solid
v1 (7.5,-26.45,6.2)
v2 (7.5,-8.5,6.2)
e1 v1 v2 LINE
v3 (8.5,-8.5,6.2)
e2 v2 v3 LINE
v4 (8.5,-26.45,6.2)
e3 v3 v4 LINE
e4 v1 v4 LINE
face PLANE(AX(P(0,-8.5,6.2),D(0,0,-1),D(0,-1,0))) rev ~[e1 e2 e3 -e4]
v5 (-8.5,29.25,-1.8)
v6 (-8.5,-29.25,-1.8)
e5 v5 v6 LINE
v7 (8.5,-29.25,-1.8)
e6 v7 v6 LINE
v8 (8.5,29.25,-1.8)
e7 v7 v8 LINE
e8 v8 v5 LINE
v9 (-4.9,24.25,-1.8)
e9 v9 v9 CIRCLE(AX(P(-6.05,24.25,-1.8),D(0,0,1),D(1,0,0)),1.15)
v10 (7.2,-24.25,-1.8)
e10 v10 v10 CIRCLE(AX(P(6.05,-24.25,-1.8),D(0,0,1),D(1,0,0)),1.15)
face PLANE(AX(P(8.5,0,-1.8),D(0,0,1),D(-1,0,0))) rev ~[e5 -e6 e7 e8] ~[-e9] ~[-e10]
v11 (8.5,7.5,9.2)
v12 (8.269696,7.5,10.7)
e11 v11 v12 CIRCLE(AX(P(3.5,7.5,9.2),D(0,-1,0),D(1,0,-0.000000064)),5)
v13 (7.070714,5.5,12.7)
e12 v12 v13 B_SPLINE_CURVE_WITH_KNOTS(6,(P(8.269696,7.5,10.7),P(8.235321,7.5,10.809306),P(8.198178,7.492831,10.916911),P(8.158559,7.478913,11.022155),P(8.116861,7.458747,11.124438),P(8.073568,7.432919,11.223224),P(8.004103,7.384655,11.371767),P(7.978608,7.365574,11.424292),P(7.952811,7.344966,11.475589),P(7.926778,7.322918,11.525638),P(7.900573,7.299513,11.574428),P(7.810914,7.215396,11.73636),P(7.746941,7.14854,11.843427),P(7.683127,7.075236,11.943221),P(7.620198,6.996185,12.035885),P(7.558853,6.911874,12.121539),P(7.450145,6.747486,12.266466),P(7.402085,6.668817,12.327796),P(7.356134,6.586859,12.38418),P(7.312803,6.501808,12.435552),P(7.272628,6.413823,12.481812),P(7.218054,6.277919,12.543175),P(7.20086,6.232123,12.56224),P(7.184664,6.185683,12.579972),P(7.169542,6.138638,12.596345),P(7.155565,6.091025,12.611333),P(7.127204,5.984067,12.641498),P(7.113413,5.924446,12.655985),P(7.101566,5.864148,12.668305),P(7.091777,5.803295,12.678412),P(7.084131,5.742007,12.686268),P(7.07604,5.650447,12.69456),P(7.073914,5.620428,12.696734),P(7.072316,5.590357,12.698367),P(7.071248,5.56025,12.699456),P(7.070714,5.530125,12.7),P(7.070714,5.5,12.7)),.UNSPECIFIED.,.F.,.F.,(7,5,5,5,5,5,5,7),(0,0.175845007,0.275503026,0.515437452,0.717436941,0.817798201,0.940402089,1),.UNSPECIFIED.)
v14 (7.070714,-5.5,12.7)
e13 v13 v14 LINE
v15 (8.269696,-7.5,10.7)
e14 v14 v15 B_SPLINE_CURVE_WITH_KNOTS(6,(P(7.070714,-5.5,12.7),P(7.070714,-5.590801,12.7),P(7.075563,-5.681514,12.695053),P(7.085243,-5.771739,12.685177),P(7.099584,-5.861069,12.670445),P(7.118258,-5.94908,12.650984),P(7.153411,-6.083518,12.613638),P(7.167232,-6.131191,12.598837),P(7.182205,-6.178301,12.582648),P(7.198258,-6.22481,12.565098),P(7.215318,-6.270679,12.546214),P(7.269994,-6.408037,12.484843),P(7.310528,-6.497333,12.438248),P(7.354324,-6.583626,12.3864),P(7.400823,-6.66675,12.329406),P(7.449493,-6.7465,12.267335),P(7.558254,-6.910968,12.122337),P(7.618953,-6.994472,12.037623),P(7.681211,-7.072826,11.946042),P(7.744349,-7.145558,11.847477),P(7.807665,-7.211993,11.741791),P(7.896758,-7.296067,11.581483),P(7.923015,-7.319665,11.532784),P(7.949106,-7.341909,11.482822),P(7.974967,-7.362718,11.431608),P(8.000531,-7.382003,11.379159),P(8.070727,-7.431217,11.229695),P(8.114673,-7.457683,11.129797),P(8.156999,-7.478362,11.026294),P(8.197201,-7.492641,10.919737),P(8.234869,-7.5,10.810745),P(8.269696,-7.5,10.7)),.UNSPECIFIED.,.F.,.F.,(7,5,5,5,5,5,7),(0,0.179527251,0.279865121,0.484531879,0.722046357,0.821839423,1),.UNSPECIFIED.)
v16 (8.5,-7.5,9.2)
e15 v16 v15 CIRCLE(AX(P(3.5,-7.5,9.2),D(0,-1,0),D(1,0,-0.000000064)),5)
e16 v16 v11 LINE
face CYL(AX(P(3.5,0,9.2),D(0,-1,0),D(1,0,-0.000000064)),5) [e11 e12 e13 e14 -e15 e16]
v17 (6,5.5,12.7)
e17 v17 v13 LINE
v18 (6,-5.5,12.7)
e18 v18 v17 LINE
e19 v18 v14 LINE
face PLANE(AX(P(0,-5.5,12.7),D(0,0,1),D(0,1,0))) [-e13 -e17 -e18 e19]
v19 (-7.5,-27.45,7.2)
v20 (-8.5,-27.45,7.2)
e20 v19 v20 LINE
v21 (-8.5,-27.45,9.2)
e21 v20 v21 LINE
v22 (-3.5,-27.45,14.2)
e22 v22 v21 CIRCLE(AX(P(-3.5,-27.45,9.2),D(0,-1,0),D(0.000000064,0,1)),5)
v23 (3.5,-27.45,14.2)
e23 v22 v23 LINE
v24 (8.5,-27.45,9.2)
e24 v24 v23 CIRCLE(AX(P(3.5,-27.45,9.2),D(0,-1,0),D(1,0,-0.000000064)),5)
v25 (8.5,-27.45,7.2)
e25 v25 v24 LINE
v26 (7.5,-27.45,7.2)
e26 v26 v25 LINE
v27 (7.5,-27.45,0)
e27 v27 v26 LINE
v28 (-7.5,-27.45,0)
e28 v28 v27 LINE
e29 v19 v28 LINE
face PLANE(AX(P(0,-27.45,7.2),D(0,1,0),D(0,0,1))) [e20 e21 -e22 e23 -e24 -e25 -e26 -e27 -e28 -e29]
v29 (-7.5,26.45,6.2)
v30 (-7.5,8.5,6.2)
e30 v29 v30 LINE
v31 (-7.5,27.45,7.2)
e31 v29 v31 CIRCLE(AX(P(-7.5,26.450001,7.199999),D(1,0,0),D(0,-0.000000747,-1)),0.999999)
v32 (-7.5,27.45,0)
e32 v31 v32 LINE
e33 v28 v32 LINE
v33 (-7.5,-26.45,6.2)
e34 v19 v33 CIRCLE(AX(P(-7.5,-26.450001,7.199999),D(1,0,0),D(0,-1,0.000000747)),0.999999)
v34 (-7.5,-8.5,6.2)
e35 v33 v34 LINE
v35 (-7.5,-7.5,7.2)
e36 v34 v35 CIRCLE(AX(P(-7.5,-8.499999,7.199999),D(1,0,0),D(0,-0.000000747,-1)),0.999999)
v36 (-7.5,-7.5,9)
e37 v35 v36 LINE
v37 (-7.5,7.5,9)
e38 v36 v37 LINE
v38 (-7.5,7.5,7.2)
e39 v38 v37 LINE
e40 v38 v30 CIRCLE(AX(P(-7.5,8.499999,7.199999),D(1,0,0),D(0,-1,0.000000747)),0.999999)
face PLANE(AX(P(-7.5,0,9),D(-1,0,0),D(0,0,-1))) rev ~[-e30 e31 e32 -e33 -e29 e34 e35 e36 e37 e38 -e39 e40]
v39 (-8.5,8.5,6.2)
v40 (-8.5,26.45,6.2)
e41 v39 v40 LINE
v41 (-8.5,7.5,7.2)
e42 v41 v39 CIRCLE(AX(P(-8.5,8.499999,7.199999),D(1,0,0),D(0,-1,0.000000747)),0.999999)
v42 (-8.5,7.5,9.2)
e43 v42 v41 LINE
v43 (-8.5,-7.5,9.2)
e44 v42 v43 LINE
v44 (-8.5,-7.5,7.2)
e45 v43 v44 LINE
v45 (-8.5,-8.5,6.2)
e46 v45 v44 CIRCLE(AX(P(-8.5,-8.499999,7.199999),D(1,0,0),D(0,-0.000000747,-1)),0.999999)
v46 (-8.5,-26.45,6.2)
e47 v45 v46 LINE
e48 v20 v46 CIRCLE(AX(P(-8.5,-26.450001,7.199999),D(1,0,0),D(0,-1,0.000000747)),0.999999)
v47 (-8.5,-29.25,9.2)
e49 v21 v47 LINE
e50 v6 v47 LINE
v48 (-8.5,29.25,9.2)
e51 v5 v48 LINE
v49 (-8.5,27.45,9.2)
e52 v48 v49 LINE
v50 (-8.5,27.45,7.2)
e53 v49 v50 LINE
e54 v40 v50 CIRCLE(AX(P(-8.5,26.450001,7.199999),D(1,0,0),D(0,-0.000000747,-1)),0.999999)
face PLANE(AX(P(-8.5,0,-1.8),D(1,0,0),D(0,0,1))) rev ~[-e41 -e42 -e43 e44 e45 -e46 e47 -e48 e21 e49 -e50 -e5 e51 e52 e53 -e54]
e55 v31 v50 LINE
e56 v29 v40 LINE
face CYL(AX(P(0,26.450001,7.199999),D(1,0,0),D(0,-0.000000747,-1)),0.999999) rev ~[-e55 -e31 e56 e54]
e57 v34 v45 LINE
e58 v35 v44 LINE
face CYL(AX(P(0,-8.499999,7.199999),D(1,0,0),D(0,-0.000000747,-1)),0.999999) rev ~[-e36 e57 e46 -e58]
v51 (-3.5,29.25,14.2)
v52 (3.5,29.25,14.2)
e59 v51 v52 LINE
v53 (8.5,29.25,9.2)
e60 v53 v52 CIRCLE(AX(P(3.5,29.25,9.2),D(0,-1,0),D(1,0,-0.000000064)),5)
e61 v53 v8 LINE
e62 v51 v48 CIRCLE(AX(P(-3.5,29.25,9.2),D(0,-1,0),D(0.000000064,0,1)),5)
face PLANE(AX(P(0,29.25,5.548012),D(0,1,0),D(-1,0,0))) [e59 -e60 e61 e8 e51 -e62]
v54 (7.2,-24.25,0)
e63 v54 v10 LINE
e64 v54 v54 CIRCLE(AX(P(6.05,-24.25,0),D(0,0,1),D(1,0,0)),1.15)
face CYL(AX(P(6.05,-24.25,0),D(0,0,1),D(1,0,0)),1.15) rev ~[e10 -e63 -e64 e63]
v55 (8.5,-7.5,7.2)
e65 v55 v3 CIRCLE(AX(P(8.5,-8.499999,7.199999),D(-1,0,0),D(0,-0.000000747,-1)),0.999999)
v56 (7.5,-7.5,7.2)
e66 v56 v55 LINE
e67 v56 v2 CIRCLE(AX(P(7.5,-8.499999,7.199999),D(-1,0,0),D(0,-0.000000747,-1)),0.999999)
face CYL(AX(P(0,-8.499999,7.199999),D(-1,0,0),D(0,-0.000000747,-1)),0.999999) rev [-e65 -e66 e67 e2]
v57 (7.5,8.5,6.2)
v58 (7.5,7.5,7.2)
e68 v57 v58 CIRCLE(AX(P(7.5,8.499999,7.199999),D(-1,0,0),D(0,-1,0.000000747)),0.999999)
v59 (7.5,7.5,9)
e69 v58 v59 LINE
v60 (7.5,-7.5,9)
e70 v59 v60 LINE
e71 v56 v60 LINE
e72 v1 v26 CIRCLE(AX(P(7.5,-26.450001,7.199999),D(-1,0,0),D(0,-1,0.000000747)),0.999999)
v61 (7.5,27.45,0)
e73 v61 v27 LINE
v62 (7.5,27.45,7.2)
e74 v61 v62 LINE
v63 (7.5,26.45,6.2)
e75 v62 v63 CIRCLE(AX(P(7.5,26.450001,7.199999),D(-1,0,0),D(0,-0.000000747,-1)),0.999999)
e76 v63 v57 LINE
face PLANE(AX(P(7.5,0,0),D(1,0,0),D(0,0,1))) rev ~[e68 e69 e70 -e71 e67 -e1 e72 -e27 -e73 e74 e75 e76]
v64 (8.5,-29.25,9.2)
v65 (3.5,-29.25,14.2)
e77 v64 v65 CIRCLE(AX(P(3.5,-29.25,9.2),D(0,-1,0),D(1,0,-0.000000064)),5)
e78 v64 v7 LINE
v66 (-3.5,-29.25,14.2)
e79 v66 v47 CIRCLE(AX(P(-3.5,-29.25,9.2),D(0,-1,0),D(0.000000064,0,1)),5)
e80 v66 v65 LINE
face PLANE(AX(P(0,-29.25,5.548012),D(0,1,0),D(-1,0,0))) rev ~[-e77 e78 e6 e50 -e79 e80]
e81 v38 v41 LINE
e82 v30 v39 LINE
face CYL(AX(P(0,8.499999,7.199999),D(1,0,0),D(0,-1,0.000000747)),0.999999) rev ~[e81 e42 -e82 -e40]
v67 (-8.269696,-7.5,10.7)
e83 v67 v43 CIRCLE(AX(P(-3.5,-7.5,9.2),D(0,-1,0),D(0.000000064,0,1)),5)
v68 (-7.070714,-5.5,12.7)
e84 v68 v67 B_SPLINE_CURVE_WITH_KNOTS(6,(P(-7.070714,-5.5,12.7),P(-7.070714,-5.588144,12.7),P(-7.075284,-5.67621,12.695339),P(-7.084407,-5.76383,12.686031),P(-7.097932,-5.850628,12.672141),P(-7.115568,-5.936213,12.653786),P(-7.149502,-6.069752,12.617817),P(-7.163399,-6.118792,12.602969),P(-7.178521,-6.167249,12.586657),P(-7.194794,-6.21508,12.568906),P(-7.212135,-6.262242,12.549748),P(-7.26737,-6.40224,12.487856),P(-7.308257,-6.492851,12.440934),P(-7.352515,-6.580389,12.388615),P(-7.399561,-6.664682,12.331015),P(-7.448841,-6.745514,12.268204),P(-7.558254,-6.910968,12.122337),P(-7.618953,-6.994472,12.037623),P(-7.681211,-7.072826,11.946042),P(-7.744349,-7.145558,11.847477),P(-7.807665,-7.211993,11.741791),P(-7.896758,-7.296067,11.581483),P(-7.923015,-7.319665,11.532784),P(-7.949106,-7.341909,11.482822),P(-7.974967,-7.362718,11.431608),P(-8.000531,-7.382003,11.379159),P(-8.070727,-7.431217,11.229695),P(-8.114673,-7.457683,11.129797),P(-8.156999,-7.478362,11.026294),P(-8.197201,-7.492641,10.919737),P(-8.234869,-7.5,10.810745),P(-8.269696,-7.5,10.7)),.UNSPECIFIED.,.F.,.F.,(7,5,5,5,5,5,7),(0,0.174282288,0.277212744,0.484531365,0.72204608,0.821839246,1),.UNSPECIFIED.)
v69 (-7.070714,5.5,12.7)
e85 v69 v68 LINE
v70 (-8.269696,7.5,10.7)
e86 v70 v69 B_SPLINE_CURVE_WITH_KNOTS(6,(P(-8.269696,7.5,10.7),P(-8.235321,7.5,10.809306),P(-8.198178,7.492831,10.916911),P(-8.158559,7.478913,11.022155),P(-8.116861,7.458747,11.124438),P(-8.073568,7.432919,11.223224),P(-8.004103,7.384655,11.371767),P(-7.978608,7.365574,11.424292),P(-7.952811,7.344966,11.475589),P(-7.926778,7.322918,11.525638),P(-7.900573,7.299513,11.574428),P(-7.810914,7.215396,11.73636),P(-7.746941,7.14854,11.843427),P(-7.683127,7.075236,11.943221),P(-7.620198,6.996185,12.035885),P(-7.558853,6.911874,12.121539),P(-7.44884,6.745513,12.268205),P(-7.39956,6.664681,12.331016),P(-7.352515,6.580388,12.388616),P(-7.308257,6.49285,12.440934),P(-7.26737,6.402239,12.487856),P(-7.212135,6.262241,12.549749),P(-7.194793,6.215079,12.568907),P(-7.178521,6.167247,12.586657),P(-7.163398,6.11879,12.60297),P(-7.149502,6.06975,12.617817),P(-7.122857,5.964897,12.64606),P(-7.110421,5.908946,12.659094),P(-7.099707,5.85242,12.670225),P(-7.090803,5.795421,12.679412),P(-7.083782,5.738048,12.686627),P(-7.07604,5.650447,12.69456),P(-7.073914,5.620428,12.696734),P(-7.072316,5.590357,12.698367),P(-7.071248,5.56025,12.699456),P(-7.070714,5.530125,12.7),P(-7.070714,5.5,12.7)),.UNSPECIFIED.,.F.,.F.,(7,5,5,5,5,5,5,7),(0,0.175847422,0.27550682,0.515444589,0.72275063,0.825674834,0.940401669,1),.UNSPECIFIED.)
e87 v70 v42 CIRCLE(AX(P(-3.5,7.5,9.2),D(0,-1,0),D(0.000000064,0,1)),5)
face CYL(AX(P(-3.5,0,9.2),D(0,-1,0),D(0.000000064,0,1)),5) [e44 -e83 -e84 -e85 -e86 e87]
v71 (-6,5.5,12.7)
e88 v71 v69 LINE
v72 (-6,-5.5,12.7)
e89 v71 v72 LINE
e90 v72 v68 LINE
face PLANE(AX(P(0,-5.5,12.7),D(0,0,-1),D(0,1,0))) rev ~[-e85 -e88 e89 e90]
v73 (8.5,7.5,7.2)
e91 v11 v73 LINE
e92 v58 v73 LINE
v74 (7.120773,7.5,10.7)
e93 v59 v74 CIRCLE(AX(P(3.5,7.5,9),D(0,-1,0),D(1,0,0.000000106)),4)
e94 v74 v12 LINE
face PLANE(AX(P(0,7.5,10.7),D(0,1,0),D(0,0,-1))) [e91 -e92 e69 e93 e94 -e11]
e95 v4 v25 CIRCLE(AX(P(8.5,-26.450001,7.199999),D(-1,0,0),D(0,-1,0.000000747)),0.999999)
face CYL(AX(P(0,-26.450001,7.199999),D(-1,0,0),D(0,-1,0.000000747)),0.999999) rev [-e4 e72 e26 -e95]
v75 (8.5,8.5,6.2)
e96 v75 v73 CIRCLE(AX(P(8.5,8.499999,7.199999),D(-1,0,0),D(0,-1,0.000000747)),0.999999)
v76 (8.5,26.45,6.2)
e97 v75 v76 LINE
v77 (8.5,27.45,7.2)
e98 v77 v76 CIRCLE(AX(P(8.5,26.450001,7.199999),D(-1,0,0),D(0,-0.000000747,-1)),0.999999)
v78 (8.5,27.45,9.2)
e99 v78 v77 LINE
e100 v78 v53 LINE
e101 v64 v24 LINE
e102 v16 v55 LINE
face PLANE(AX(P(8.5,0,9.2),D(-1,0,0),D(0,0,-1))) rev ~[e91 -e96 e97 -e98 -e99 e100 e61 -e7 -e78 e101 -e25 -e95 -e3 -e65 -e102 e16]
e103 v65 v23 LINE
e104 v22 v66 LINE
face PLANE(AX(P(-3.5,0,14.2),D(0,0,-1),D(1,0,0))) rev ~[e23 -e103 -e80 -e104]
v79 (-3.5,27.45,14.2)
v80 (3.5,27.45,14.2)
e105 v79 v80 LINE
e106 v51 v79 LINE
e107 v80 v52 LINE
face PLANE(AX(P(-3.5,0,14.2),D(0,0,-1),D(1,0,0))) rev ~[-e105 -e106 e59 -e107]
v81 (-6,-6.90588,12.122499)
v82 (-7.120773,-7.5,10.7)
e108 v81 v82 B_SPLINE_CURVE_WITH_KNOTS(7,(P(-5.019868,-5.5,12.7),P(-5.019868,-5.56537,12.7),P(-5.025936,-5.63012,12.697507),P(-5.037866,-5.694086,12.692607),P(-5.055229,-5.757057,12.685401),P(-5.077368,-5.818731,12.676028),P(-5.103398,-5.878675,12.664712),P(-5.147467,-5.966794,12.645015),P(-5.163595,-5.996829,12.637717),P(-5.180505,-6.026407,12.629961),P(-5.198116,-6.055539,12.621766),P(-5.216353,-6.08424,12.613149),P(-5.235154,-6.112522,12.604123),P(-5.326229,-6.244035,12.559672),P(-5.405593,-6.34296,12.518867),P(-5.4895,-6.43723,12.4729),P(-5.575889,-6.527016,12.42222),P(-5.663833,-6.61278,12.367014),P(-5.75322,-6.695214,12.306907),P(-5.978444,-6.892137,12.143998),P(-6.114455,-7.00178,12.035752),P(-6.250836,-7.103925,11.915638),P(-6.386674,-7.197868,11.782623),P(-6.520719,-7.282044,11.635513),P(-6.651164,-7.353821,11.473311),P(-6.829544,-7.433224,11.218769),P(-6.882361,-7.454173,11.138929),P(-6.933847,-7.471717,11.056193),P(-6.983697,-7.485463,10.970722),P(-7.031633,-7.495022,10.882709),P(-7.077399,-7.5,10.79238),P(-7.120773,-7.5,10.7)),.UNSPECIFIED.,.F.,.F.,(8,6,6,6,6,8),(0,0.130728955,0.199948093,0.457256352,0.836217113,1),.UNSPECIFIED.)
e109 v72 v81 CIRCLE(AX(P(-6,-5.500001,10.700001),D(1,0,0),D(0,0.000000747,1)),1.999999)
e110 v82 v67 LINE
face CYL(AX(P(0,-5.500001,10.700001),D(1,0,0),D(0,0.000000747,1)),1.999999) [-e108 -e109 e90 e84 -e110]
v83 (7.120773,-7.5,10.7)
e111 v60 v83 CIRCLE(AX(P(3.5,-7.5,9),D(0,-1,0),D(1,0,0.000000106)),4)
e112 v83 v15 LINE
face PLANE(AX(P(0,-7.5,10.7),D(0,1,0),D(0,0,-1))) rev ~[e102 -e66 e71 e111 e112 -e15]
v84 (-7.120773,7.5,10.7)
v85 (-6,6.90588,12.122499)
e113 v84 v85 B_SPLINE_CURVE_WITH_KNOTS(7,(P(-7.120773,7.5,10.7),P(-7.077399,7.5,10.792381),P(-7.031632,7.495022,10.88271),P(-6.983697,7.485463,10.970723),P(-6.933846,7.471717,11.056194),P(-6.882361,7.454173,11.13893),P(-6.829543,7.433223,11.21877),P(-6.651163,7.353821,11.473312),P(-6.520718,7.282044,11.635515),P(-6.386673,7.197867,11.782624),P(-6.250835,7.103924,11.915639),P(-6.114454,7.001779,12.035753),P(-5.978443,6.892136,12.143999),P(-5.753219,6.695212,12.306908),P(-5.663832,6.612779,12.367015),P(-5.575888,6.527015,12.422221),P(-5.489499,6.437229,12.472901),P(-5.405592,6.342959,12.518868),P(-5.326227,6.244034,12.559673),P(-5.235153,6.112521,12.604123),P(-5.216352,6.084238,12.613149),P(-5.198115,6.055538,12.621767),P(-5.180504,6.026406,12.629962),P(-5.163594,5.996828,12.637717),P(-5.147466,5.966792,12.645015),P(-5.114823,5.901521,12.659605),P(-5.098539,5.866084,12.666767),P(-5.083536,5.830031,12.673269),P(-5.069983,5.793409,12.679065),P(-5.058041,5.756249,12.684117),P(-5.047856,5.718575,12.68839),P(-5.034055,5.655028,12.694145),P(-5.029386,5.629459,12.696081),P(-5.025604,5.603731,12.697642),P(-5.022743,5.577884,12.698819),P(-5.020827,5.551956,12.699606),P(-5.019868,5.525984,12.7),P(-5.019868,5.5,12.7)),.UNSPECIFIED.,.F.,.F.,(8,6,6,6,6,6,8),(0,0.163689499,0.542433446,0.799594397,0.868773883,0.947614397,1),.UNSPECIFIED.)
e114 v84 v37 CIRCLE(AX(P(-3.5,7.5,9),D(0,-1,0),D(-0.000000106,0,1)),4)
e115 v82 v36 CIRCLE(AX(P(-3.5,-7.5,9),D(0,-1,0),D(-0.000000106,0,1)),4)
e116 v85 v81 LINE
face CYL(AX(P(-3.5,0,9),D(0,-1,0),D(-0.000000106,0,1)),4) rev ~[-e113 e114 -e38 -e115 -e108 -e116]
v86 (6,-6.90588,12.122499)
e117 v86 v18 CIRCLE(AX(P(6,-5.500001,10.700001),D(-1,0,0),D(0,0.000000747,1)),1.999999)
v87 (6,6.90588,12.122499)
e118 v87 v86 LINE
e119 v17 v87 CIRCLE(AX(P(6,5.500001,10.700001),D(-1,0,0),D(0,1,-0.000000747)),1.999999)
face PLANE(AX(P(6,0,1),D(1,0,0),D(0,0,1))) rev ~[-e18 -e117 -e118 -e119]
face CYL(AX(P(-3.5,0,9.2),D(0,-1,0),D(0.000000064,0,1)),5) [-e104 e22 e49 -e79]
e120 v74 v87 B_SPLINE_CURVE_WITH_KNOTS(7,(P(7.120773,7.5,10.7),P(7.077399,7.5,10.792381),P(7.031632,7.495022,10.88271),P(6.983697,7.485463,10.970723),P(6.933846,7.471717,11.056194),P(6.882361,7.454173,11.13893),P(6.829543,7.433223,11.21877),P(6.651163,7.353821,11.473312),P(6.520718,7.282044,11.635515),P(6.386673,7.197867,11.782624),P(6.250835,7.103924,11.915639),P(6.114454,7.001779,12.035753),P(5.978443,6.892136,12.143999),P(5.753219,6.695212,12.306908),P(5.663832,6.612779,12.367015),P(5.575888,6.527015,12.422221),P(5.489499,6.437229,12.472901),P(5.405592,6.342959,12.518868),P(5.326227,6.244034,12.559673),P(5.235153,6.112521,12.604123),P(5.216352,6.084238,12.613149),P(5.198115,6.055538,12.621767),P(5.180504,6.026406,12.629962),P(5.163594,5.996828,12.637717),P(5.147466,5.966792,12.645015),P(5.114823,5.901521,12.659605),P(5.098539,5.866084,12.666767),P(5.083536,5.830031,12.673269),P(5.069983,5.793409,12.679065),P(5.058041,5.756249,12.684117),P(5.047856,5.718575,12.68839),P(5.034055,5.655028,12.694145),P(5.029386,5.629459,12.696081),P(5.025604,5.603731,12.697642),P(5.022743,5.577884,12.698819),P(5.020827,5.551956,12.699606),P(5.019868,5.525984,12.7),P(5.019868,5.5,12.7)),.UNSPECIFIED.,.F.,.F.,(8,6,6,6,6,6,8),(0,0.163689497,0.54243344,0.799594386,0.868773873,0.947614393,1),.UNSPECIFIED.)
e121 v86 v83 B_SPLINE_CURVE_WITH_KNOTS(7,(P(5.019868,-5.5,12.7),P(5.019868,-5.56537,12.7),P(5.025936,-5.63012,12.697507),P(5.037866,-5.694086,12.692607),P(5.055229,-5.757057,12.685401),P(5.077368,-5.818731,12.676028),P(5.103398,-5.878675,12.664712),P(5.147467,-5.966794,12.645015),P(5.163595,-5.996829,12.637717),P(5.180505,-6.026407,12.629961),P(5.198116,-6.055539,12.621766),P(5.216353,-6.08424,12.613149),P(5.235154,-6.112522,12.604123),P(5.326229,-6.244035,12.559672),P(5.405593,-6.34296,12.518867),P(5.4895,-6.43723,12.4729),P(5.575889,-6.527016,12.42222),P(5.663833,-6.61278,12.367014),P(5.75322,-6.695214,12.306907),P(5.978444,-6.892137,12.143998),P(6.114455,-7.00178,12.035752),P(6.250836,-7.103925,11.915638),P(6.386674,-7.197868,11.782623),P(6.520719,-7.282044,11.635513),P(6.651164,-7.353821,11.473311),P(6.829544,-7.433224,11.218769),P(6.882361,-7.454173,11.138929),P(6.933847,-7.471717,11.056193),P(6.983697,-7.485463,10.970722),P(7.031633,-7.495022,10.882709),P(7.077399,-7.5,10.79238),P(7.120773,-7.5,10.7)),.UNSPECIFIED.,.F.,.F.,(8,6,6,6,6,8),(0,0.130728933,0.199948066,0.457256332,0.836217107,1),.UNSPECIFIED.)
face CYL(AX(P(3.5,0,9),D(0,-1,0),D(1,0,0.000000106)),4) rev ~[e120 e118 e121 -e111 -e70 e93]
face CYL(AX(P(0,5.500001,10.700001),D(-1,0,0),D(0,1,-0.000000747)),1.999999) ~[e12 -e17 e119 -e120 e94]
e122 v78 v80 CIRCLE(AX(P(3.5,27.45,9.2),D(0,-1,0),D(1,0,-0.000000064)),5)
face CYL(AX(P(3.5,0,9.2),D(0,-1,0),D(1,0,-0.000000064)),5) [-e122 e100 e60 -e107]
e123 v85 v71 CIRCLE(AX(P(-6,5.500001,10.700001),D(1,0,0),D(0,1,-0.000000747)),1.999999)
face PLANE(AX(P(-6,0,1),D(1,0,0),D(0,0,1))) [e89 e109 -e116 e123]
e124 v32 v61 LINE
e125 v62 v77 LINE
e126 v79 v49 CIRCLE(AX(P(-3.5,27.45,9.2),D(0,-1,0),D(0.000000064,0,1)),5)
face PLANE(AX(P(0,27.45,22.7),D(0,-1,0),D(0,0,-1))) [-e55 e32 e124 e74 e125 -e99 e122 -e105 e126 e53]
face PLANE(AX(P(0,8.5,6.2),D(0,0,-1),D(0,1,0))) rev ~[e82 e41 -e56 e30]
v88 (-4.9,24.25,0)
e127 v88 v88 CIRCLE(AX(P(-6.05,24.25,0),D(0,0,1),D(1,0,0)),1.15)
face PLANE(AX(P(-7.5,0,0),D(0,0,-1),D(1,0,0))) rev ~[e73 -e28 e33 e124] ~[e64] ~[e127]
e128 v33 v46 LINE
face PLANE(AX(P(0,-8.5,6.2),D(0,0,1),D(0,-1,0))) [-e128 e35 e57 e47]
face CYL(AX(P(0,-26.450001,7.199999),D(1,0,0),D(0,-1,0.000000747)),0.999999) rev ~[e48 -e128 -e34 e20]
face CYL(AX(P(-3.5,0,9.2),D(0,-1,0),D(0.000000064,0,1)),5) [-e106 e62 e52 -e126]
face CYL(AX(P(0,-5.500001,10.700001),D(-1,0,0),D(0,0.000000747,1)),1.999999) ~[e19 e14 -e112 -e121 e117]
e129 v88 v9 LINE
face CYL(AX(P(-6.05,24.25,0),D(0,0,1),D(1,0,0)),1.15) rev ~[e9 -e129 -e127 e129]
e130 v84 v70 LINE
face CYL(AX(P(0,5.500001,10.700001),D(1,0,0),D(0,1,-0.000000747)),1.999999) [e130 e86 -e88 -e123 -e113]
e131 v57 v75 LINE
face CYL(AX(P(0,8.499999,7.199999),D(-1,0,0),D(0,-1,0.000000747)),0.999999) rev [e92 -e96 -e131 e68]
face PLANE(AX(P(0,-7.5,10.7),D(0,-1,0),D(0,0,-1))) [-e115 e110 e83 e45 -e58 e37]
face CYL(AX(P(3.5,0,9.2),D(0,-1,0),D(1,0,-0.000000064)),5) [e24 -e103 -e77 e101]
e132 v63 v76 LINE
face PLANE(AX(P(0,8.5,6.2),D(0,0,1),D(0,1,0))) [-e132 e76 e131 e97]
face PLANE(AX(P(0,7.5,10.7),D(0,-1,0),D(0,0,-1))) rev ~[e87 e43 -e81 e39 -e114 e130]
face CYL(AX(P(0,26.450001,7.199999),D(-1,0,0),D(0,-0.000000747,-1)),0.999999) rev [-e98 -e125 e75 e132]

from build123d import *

# Parameters (mm, degrees)
PAD_DEPTH            = 29.25
POCKET_DEPTH         = 27.45
POCKET002_DEPTH      = 8.501
POCKET002_DEPTH_BACK = 8.501
SKETCH017_W          = 12
SKETCH017_H          = 20
POCKET003_DEPTH      = 7.5
SKETCH018_R          = 1.15
POCKET004_DEPTH      = 1.801
POCKET004_DEPTH_BACK = 14.201


with BuildPart() as part:
    # Sketch → Pad (new body, symmetric)
    with BuildSketch(Plane.XZ):
        with BuildLine():
            Line((-3.5, 14.2), (3.5, 14.2))
            ThreePointArc((8.5, 9.2), (7.035534, 12.735534), (3.5, 14.2))
            Line((8.5, 9.2), (8.5, -1.8))
            Line((8.5, -1.8), (-8.5, -1.8))
            Line((-8.5, -1.8), (-8.5, 9.2))
            ThreePointArc((-3.5, 14.2), (-7.035534, 12.735534), (-8.5, 9.2))
        make_face()
    extrude(amount=PAD_DEPTH, both=True)

    # Sketch014 → Pocket (cut, symmetric)
    with BuildSketch(Plane.XZ):
        with BuildLine():
            Line((-7.5, 0), (7.5, 0))
            Line((7.5, 0), (7.5, 9))
            ThreePointArc((7.5, 9), (6.328427, 11.828427), (3.5, 13))
            Line((3.5, 13), (-3.5, 13))
            ThreePointArc((-3.5, 13), (-6.328427, 11.828427), (-7.5, 9))
            Line((-7.5, 9), (-7.5, 0))
        make_face()
    extrude(amount=POCKET_DEPTH, both=True, mode=Mode.SUBTRACT)

    # Sketch016 → Pocket002 (cut, two sides)
    with BuildSketch(Plane.YZ) as pocket002_sk:
        with BuildLine():
            Line((-5.5, 12.7), (5.5, 12.7))
            ThreePointArc((7.5, 10.7), (6.914214, 12.114214), (5.5, 12.7))
            Line((7.5, 10.7), (7.5, 7.2))
            ThreePointArc((7.5, 7.2), (7.792893, 6.492893), (8.5, 6.2))
            Line((8.5, 6.2), (26.45, 6.2))
            ThreePointArc((26.45, 6.2), (27.157107, 6.492893), (27.45, 7.2))
            Line((27.45, 22.7), (27.45, 7.2))
            Line((-27.45, 22.7), (27.45, 22.7))
            Line((-27.45, 7.2), (-27.45, 22.7))
            ThreePointArc((-27.45, 7.2), (-27.157107, 6.492893), (-26.45, 6.2))
            Line((-8.5, 6.2), (-26.45, 6.2))
            ThreePointArc((-8.5, 6.2), (-7.792893, 6.492893), (-7.5, 7.2))
            Line((-7.5, 10.7), (-7.5, 7.2))
            ThreePointArc((-5.5, 12.7), (-6.914214, 12.114214), (-7.5, 10.7))
        make_face()
    extrude(amount=-POCKET002_DEPTH, mode=Mode.SUBTRACT)
    extrude(pocket002_sk.sketch, amount=POCKET002_DEPTH_BACK, mode=Mode.SUBTRACT)

    # Sketch017 → Pocket003 (cut, symmetric)
    with BuildSketch(Plane.XZ):
        with Locations((0, 11)):
            Rectangle(SKETCH017_W, SKETCH017_H)
    extrude(amount=POCKET003_DEPTH, both=True, mode=Mode.SUBTRACT)

    # Sketch018 → Pocket004 (cut, two sides)
    with BuildSketch(Plane.XY) as pocket004_sk:
        with Locations((-6.05, 24.25)):
            Circle(SKETCH018_R)
        with Locations((6.05, -24.25)):
            Circle(SKETCH018_R)
    extrude(amount=-POCKET004_DEPTH, mode=Mode.SUBTRACT)
    extrude(pocket004_sk.sketch, amount=POCKET004_DEPTH_BACK, mode=Mode.SUBTRACT)


solid = part.part
